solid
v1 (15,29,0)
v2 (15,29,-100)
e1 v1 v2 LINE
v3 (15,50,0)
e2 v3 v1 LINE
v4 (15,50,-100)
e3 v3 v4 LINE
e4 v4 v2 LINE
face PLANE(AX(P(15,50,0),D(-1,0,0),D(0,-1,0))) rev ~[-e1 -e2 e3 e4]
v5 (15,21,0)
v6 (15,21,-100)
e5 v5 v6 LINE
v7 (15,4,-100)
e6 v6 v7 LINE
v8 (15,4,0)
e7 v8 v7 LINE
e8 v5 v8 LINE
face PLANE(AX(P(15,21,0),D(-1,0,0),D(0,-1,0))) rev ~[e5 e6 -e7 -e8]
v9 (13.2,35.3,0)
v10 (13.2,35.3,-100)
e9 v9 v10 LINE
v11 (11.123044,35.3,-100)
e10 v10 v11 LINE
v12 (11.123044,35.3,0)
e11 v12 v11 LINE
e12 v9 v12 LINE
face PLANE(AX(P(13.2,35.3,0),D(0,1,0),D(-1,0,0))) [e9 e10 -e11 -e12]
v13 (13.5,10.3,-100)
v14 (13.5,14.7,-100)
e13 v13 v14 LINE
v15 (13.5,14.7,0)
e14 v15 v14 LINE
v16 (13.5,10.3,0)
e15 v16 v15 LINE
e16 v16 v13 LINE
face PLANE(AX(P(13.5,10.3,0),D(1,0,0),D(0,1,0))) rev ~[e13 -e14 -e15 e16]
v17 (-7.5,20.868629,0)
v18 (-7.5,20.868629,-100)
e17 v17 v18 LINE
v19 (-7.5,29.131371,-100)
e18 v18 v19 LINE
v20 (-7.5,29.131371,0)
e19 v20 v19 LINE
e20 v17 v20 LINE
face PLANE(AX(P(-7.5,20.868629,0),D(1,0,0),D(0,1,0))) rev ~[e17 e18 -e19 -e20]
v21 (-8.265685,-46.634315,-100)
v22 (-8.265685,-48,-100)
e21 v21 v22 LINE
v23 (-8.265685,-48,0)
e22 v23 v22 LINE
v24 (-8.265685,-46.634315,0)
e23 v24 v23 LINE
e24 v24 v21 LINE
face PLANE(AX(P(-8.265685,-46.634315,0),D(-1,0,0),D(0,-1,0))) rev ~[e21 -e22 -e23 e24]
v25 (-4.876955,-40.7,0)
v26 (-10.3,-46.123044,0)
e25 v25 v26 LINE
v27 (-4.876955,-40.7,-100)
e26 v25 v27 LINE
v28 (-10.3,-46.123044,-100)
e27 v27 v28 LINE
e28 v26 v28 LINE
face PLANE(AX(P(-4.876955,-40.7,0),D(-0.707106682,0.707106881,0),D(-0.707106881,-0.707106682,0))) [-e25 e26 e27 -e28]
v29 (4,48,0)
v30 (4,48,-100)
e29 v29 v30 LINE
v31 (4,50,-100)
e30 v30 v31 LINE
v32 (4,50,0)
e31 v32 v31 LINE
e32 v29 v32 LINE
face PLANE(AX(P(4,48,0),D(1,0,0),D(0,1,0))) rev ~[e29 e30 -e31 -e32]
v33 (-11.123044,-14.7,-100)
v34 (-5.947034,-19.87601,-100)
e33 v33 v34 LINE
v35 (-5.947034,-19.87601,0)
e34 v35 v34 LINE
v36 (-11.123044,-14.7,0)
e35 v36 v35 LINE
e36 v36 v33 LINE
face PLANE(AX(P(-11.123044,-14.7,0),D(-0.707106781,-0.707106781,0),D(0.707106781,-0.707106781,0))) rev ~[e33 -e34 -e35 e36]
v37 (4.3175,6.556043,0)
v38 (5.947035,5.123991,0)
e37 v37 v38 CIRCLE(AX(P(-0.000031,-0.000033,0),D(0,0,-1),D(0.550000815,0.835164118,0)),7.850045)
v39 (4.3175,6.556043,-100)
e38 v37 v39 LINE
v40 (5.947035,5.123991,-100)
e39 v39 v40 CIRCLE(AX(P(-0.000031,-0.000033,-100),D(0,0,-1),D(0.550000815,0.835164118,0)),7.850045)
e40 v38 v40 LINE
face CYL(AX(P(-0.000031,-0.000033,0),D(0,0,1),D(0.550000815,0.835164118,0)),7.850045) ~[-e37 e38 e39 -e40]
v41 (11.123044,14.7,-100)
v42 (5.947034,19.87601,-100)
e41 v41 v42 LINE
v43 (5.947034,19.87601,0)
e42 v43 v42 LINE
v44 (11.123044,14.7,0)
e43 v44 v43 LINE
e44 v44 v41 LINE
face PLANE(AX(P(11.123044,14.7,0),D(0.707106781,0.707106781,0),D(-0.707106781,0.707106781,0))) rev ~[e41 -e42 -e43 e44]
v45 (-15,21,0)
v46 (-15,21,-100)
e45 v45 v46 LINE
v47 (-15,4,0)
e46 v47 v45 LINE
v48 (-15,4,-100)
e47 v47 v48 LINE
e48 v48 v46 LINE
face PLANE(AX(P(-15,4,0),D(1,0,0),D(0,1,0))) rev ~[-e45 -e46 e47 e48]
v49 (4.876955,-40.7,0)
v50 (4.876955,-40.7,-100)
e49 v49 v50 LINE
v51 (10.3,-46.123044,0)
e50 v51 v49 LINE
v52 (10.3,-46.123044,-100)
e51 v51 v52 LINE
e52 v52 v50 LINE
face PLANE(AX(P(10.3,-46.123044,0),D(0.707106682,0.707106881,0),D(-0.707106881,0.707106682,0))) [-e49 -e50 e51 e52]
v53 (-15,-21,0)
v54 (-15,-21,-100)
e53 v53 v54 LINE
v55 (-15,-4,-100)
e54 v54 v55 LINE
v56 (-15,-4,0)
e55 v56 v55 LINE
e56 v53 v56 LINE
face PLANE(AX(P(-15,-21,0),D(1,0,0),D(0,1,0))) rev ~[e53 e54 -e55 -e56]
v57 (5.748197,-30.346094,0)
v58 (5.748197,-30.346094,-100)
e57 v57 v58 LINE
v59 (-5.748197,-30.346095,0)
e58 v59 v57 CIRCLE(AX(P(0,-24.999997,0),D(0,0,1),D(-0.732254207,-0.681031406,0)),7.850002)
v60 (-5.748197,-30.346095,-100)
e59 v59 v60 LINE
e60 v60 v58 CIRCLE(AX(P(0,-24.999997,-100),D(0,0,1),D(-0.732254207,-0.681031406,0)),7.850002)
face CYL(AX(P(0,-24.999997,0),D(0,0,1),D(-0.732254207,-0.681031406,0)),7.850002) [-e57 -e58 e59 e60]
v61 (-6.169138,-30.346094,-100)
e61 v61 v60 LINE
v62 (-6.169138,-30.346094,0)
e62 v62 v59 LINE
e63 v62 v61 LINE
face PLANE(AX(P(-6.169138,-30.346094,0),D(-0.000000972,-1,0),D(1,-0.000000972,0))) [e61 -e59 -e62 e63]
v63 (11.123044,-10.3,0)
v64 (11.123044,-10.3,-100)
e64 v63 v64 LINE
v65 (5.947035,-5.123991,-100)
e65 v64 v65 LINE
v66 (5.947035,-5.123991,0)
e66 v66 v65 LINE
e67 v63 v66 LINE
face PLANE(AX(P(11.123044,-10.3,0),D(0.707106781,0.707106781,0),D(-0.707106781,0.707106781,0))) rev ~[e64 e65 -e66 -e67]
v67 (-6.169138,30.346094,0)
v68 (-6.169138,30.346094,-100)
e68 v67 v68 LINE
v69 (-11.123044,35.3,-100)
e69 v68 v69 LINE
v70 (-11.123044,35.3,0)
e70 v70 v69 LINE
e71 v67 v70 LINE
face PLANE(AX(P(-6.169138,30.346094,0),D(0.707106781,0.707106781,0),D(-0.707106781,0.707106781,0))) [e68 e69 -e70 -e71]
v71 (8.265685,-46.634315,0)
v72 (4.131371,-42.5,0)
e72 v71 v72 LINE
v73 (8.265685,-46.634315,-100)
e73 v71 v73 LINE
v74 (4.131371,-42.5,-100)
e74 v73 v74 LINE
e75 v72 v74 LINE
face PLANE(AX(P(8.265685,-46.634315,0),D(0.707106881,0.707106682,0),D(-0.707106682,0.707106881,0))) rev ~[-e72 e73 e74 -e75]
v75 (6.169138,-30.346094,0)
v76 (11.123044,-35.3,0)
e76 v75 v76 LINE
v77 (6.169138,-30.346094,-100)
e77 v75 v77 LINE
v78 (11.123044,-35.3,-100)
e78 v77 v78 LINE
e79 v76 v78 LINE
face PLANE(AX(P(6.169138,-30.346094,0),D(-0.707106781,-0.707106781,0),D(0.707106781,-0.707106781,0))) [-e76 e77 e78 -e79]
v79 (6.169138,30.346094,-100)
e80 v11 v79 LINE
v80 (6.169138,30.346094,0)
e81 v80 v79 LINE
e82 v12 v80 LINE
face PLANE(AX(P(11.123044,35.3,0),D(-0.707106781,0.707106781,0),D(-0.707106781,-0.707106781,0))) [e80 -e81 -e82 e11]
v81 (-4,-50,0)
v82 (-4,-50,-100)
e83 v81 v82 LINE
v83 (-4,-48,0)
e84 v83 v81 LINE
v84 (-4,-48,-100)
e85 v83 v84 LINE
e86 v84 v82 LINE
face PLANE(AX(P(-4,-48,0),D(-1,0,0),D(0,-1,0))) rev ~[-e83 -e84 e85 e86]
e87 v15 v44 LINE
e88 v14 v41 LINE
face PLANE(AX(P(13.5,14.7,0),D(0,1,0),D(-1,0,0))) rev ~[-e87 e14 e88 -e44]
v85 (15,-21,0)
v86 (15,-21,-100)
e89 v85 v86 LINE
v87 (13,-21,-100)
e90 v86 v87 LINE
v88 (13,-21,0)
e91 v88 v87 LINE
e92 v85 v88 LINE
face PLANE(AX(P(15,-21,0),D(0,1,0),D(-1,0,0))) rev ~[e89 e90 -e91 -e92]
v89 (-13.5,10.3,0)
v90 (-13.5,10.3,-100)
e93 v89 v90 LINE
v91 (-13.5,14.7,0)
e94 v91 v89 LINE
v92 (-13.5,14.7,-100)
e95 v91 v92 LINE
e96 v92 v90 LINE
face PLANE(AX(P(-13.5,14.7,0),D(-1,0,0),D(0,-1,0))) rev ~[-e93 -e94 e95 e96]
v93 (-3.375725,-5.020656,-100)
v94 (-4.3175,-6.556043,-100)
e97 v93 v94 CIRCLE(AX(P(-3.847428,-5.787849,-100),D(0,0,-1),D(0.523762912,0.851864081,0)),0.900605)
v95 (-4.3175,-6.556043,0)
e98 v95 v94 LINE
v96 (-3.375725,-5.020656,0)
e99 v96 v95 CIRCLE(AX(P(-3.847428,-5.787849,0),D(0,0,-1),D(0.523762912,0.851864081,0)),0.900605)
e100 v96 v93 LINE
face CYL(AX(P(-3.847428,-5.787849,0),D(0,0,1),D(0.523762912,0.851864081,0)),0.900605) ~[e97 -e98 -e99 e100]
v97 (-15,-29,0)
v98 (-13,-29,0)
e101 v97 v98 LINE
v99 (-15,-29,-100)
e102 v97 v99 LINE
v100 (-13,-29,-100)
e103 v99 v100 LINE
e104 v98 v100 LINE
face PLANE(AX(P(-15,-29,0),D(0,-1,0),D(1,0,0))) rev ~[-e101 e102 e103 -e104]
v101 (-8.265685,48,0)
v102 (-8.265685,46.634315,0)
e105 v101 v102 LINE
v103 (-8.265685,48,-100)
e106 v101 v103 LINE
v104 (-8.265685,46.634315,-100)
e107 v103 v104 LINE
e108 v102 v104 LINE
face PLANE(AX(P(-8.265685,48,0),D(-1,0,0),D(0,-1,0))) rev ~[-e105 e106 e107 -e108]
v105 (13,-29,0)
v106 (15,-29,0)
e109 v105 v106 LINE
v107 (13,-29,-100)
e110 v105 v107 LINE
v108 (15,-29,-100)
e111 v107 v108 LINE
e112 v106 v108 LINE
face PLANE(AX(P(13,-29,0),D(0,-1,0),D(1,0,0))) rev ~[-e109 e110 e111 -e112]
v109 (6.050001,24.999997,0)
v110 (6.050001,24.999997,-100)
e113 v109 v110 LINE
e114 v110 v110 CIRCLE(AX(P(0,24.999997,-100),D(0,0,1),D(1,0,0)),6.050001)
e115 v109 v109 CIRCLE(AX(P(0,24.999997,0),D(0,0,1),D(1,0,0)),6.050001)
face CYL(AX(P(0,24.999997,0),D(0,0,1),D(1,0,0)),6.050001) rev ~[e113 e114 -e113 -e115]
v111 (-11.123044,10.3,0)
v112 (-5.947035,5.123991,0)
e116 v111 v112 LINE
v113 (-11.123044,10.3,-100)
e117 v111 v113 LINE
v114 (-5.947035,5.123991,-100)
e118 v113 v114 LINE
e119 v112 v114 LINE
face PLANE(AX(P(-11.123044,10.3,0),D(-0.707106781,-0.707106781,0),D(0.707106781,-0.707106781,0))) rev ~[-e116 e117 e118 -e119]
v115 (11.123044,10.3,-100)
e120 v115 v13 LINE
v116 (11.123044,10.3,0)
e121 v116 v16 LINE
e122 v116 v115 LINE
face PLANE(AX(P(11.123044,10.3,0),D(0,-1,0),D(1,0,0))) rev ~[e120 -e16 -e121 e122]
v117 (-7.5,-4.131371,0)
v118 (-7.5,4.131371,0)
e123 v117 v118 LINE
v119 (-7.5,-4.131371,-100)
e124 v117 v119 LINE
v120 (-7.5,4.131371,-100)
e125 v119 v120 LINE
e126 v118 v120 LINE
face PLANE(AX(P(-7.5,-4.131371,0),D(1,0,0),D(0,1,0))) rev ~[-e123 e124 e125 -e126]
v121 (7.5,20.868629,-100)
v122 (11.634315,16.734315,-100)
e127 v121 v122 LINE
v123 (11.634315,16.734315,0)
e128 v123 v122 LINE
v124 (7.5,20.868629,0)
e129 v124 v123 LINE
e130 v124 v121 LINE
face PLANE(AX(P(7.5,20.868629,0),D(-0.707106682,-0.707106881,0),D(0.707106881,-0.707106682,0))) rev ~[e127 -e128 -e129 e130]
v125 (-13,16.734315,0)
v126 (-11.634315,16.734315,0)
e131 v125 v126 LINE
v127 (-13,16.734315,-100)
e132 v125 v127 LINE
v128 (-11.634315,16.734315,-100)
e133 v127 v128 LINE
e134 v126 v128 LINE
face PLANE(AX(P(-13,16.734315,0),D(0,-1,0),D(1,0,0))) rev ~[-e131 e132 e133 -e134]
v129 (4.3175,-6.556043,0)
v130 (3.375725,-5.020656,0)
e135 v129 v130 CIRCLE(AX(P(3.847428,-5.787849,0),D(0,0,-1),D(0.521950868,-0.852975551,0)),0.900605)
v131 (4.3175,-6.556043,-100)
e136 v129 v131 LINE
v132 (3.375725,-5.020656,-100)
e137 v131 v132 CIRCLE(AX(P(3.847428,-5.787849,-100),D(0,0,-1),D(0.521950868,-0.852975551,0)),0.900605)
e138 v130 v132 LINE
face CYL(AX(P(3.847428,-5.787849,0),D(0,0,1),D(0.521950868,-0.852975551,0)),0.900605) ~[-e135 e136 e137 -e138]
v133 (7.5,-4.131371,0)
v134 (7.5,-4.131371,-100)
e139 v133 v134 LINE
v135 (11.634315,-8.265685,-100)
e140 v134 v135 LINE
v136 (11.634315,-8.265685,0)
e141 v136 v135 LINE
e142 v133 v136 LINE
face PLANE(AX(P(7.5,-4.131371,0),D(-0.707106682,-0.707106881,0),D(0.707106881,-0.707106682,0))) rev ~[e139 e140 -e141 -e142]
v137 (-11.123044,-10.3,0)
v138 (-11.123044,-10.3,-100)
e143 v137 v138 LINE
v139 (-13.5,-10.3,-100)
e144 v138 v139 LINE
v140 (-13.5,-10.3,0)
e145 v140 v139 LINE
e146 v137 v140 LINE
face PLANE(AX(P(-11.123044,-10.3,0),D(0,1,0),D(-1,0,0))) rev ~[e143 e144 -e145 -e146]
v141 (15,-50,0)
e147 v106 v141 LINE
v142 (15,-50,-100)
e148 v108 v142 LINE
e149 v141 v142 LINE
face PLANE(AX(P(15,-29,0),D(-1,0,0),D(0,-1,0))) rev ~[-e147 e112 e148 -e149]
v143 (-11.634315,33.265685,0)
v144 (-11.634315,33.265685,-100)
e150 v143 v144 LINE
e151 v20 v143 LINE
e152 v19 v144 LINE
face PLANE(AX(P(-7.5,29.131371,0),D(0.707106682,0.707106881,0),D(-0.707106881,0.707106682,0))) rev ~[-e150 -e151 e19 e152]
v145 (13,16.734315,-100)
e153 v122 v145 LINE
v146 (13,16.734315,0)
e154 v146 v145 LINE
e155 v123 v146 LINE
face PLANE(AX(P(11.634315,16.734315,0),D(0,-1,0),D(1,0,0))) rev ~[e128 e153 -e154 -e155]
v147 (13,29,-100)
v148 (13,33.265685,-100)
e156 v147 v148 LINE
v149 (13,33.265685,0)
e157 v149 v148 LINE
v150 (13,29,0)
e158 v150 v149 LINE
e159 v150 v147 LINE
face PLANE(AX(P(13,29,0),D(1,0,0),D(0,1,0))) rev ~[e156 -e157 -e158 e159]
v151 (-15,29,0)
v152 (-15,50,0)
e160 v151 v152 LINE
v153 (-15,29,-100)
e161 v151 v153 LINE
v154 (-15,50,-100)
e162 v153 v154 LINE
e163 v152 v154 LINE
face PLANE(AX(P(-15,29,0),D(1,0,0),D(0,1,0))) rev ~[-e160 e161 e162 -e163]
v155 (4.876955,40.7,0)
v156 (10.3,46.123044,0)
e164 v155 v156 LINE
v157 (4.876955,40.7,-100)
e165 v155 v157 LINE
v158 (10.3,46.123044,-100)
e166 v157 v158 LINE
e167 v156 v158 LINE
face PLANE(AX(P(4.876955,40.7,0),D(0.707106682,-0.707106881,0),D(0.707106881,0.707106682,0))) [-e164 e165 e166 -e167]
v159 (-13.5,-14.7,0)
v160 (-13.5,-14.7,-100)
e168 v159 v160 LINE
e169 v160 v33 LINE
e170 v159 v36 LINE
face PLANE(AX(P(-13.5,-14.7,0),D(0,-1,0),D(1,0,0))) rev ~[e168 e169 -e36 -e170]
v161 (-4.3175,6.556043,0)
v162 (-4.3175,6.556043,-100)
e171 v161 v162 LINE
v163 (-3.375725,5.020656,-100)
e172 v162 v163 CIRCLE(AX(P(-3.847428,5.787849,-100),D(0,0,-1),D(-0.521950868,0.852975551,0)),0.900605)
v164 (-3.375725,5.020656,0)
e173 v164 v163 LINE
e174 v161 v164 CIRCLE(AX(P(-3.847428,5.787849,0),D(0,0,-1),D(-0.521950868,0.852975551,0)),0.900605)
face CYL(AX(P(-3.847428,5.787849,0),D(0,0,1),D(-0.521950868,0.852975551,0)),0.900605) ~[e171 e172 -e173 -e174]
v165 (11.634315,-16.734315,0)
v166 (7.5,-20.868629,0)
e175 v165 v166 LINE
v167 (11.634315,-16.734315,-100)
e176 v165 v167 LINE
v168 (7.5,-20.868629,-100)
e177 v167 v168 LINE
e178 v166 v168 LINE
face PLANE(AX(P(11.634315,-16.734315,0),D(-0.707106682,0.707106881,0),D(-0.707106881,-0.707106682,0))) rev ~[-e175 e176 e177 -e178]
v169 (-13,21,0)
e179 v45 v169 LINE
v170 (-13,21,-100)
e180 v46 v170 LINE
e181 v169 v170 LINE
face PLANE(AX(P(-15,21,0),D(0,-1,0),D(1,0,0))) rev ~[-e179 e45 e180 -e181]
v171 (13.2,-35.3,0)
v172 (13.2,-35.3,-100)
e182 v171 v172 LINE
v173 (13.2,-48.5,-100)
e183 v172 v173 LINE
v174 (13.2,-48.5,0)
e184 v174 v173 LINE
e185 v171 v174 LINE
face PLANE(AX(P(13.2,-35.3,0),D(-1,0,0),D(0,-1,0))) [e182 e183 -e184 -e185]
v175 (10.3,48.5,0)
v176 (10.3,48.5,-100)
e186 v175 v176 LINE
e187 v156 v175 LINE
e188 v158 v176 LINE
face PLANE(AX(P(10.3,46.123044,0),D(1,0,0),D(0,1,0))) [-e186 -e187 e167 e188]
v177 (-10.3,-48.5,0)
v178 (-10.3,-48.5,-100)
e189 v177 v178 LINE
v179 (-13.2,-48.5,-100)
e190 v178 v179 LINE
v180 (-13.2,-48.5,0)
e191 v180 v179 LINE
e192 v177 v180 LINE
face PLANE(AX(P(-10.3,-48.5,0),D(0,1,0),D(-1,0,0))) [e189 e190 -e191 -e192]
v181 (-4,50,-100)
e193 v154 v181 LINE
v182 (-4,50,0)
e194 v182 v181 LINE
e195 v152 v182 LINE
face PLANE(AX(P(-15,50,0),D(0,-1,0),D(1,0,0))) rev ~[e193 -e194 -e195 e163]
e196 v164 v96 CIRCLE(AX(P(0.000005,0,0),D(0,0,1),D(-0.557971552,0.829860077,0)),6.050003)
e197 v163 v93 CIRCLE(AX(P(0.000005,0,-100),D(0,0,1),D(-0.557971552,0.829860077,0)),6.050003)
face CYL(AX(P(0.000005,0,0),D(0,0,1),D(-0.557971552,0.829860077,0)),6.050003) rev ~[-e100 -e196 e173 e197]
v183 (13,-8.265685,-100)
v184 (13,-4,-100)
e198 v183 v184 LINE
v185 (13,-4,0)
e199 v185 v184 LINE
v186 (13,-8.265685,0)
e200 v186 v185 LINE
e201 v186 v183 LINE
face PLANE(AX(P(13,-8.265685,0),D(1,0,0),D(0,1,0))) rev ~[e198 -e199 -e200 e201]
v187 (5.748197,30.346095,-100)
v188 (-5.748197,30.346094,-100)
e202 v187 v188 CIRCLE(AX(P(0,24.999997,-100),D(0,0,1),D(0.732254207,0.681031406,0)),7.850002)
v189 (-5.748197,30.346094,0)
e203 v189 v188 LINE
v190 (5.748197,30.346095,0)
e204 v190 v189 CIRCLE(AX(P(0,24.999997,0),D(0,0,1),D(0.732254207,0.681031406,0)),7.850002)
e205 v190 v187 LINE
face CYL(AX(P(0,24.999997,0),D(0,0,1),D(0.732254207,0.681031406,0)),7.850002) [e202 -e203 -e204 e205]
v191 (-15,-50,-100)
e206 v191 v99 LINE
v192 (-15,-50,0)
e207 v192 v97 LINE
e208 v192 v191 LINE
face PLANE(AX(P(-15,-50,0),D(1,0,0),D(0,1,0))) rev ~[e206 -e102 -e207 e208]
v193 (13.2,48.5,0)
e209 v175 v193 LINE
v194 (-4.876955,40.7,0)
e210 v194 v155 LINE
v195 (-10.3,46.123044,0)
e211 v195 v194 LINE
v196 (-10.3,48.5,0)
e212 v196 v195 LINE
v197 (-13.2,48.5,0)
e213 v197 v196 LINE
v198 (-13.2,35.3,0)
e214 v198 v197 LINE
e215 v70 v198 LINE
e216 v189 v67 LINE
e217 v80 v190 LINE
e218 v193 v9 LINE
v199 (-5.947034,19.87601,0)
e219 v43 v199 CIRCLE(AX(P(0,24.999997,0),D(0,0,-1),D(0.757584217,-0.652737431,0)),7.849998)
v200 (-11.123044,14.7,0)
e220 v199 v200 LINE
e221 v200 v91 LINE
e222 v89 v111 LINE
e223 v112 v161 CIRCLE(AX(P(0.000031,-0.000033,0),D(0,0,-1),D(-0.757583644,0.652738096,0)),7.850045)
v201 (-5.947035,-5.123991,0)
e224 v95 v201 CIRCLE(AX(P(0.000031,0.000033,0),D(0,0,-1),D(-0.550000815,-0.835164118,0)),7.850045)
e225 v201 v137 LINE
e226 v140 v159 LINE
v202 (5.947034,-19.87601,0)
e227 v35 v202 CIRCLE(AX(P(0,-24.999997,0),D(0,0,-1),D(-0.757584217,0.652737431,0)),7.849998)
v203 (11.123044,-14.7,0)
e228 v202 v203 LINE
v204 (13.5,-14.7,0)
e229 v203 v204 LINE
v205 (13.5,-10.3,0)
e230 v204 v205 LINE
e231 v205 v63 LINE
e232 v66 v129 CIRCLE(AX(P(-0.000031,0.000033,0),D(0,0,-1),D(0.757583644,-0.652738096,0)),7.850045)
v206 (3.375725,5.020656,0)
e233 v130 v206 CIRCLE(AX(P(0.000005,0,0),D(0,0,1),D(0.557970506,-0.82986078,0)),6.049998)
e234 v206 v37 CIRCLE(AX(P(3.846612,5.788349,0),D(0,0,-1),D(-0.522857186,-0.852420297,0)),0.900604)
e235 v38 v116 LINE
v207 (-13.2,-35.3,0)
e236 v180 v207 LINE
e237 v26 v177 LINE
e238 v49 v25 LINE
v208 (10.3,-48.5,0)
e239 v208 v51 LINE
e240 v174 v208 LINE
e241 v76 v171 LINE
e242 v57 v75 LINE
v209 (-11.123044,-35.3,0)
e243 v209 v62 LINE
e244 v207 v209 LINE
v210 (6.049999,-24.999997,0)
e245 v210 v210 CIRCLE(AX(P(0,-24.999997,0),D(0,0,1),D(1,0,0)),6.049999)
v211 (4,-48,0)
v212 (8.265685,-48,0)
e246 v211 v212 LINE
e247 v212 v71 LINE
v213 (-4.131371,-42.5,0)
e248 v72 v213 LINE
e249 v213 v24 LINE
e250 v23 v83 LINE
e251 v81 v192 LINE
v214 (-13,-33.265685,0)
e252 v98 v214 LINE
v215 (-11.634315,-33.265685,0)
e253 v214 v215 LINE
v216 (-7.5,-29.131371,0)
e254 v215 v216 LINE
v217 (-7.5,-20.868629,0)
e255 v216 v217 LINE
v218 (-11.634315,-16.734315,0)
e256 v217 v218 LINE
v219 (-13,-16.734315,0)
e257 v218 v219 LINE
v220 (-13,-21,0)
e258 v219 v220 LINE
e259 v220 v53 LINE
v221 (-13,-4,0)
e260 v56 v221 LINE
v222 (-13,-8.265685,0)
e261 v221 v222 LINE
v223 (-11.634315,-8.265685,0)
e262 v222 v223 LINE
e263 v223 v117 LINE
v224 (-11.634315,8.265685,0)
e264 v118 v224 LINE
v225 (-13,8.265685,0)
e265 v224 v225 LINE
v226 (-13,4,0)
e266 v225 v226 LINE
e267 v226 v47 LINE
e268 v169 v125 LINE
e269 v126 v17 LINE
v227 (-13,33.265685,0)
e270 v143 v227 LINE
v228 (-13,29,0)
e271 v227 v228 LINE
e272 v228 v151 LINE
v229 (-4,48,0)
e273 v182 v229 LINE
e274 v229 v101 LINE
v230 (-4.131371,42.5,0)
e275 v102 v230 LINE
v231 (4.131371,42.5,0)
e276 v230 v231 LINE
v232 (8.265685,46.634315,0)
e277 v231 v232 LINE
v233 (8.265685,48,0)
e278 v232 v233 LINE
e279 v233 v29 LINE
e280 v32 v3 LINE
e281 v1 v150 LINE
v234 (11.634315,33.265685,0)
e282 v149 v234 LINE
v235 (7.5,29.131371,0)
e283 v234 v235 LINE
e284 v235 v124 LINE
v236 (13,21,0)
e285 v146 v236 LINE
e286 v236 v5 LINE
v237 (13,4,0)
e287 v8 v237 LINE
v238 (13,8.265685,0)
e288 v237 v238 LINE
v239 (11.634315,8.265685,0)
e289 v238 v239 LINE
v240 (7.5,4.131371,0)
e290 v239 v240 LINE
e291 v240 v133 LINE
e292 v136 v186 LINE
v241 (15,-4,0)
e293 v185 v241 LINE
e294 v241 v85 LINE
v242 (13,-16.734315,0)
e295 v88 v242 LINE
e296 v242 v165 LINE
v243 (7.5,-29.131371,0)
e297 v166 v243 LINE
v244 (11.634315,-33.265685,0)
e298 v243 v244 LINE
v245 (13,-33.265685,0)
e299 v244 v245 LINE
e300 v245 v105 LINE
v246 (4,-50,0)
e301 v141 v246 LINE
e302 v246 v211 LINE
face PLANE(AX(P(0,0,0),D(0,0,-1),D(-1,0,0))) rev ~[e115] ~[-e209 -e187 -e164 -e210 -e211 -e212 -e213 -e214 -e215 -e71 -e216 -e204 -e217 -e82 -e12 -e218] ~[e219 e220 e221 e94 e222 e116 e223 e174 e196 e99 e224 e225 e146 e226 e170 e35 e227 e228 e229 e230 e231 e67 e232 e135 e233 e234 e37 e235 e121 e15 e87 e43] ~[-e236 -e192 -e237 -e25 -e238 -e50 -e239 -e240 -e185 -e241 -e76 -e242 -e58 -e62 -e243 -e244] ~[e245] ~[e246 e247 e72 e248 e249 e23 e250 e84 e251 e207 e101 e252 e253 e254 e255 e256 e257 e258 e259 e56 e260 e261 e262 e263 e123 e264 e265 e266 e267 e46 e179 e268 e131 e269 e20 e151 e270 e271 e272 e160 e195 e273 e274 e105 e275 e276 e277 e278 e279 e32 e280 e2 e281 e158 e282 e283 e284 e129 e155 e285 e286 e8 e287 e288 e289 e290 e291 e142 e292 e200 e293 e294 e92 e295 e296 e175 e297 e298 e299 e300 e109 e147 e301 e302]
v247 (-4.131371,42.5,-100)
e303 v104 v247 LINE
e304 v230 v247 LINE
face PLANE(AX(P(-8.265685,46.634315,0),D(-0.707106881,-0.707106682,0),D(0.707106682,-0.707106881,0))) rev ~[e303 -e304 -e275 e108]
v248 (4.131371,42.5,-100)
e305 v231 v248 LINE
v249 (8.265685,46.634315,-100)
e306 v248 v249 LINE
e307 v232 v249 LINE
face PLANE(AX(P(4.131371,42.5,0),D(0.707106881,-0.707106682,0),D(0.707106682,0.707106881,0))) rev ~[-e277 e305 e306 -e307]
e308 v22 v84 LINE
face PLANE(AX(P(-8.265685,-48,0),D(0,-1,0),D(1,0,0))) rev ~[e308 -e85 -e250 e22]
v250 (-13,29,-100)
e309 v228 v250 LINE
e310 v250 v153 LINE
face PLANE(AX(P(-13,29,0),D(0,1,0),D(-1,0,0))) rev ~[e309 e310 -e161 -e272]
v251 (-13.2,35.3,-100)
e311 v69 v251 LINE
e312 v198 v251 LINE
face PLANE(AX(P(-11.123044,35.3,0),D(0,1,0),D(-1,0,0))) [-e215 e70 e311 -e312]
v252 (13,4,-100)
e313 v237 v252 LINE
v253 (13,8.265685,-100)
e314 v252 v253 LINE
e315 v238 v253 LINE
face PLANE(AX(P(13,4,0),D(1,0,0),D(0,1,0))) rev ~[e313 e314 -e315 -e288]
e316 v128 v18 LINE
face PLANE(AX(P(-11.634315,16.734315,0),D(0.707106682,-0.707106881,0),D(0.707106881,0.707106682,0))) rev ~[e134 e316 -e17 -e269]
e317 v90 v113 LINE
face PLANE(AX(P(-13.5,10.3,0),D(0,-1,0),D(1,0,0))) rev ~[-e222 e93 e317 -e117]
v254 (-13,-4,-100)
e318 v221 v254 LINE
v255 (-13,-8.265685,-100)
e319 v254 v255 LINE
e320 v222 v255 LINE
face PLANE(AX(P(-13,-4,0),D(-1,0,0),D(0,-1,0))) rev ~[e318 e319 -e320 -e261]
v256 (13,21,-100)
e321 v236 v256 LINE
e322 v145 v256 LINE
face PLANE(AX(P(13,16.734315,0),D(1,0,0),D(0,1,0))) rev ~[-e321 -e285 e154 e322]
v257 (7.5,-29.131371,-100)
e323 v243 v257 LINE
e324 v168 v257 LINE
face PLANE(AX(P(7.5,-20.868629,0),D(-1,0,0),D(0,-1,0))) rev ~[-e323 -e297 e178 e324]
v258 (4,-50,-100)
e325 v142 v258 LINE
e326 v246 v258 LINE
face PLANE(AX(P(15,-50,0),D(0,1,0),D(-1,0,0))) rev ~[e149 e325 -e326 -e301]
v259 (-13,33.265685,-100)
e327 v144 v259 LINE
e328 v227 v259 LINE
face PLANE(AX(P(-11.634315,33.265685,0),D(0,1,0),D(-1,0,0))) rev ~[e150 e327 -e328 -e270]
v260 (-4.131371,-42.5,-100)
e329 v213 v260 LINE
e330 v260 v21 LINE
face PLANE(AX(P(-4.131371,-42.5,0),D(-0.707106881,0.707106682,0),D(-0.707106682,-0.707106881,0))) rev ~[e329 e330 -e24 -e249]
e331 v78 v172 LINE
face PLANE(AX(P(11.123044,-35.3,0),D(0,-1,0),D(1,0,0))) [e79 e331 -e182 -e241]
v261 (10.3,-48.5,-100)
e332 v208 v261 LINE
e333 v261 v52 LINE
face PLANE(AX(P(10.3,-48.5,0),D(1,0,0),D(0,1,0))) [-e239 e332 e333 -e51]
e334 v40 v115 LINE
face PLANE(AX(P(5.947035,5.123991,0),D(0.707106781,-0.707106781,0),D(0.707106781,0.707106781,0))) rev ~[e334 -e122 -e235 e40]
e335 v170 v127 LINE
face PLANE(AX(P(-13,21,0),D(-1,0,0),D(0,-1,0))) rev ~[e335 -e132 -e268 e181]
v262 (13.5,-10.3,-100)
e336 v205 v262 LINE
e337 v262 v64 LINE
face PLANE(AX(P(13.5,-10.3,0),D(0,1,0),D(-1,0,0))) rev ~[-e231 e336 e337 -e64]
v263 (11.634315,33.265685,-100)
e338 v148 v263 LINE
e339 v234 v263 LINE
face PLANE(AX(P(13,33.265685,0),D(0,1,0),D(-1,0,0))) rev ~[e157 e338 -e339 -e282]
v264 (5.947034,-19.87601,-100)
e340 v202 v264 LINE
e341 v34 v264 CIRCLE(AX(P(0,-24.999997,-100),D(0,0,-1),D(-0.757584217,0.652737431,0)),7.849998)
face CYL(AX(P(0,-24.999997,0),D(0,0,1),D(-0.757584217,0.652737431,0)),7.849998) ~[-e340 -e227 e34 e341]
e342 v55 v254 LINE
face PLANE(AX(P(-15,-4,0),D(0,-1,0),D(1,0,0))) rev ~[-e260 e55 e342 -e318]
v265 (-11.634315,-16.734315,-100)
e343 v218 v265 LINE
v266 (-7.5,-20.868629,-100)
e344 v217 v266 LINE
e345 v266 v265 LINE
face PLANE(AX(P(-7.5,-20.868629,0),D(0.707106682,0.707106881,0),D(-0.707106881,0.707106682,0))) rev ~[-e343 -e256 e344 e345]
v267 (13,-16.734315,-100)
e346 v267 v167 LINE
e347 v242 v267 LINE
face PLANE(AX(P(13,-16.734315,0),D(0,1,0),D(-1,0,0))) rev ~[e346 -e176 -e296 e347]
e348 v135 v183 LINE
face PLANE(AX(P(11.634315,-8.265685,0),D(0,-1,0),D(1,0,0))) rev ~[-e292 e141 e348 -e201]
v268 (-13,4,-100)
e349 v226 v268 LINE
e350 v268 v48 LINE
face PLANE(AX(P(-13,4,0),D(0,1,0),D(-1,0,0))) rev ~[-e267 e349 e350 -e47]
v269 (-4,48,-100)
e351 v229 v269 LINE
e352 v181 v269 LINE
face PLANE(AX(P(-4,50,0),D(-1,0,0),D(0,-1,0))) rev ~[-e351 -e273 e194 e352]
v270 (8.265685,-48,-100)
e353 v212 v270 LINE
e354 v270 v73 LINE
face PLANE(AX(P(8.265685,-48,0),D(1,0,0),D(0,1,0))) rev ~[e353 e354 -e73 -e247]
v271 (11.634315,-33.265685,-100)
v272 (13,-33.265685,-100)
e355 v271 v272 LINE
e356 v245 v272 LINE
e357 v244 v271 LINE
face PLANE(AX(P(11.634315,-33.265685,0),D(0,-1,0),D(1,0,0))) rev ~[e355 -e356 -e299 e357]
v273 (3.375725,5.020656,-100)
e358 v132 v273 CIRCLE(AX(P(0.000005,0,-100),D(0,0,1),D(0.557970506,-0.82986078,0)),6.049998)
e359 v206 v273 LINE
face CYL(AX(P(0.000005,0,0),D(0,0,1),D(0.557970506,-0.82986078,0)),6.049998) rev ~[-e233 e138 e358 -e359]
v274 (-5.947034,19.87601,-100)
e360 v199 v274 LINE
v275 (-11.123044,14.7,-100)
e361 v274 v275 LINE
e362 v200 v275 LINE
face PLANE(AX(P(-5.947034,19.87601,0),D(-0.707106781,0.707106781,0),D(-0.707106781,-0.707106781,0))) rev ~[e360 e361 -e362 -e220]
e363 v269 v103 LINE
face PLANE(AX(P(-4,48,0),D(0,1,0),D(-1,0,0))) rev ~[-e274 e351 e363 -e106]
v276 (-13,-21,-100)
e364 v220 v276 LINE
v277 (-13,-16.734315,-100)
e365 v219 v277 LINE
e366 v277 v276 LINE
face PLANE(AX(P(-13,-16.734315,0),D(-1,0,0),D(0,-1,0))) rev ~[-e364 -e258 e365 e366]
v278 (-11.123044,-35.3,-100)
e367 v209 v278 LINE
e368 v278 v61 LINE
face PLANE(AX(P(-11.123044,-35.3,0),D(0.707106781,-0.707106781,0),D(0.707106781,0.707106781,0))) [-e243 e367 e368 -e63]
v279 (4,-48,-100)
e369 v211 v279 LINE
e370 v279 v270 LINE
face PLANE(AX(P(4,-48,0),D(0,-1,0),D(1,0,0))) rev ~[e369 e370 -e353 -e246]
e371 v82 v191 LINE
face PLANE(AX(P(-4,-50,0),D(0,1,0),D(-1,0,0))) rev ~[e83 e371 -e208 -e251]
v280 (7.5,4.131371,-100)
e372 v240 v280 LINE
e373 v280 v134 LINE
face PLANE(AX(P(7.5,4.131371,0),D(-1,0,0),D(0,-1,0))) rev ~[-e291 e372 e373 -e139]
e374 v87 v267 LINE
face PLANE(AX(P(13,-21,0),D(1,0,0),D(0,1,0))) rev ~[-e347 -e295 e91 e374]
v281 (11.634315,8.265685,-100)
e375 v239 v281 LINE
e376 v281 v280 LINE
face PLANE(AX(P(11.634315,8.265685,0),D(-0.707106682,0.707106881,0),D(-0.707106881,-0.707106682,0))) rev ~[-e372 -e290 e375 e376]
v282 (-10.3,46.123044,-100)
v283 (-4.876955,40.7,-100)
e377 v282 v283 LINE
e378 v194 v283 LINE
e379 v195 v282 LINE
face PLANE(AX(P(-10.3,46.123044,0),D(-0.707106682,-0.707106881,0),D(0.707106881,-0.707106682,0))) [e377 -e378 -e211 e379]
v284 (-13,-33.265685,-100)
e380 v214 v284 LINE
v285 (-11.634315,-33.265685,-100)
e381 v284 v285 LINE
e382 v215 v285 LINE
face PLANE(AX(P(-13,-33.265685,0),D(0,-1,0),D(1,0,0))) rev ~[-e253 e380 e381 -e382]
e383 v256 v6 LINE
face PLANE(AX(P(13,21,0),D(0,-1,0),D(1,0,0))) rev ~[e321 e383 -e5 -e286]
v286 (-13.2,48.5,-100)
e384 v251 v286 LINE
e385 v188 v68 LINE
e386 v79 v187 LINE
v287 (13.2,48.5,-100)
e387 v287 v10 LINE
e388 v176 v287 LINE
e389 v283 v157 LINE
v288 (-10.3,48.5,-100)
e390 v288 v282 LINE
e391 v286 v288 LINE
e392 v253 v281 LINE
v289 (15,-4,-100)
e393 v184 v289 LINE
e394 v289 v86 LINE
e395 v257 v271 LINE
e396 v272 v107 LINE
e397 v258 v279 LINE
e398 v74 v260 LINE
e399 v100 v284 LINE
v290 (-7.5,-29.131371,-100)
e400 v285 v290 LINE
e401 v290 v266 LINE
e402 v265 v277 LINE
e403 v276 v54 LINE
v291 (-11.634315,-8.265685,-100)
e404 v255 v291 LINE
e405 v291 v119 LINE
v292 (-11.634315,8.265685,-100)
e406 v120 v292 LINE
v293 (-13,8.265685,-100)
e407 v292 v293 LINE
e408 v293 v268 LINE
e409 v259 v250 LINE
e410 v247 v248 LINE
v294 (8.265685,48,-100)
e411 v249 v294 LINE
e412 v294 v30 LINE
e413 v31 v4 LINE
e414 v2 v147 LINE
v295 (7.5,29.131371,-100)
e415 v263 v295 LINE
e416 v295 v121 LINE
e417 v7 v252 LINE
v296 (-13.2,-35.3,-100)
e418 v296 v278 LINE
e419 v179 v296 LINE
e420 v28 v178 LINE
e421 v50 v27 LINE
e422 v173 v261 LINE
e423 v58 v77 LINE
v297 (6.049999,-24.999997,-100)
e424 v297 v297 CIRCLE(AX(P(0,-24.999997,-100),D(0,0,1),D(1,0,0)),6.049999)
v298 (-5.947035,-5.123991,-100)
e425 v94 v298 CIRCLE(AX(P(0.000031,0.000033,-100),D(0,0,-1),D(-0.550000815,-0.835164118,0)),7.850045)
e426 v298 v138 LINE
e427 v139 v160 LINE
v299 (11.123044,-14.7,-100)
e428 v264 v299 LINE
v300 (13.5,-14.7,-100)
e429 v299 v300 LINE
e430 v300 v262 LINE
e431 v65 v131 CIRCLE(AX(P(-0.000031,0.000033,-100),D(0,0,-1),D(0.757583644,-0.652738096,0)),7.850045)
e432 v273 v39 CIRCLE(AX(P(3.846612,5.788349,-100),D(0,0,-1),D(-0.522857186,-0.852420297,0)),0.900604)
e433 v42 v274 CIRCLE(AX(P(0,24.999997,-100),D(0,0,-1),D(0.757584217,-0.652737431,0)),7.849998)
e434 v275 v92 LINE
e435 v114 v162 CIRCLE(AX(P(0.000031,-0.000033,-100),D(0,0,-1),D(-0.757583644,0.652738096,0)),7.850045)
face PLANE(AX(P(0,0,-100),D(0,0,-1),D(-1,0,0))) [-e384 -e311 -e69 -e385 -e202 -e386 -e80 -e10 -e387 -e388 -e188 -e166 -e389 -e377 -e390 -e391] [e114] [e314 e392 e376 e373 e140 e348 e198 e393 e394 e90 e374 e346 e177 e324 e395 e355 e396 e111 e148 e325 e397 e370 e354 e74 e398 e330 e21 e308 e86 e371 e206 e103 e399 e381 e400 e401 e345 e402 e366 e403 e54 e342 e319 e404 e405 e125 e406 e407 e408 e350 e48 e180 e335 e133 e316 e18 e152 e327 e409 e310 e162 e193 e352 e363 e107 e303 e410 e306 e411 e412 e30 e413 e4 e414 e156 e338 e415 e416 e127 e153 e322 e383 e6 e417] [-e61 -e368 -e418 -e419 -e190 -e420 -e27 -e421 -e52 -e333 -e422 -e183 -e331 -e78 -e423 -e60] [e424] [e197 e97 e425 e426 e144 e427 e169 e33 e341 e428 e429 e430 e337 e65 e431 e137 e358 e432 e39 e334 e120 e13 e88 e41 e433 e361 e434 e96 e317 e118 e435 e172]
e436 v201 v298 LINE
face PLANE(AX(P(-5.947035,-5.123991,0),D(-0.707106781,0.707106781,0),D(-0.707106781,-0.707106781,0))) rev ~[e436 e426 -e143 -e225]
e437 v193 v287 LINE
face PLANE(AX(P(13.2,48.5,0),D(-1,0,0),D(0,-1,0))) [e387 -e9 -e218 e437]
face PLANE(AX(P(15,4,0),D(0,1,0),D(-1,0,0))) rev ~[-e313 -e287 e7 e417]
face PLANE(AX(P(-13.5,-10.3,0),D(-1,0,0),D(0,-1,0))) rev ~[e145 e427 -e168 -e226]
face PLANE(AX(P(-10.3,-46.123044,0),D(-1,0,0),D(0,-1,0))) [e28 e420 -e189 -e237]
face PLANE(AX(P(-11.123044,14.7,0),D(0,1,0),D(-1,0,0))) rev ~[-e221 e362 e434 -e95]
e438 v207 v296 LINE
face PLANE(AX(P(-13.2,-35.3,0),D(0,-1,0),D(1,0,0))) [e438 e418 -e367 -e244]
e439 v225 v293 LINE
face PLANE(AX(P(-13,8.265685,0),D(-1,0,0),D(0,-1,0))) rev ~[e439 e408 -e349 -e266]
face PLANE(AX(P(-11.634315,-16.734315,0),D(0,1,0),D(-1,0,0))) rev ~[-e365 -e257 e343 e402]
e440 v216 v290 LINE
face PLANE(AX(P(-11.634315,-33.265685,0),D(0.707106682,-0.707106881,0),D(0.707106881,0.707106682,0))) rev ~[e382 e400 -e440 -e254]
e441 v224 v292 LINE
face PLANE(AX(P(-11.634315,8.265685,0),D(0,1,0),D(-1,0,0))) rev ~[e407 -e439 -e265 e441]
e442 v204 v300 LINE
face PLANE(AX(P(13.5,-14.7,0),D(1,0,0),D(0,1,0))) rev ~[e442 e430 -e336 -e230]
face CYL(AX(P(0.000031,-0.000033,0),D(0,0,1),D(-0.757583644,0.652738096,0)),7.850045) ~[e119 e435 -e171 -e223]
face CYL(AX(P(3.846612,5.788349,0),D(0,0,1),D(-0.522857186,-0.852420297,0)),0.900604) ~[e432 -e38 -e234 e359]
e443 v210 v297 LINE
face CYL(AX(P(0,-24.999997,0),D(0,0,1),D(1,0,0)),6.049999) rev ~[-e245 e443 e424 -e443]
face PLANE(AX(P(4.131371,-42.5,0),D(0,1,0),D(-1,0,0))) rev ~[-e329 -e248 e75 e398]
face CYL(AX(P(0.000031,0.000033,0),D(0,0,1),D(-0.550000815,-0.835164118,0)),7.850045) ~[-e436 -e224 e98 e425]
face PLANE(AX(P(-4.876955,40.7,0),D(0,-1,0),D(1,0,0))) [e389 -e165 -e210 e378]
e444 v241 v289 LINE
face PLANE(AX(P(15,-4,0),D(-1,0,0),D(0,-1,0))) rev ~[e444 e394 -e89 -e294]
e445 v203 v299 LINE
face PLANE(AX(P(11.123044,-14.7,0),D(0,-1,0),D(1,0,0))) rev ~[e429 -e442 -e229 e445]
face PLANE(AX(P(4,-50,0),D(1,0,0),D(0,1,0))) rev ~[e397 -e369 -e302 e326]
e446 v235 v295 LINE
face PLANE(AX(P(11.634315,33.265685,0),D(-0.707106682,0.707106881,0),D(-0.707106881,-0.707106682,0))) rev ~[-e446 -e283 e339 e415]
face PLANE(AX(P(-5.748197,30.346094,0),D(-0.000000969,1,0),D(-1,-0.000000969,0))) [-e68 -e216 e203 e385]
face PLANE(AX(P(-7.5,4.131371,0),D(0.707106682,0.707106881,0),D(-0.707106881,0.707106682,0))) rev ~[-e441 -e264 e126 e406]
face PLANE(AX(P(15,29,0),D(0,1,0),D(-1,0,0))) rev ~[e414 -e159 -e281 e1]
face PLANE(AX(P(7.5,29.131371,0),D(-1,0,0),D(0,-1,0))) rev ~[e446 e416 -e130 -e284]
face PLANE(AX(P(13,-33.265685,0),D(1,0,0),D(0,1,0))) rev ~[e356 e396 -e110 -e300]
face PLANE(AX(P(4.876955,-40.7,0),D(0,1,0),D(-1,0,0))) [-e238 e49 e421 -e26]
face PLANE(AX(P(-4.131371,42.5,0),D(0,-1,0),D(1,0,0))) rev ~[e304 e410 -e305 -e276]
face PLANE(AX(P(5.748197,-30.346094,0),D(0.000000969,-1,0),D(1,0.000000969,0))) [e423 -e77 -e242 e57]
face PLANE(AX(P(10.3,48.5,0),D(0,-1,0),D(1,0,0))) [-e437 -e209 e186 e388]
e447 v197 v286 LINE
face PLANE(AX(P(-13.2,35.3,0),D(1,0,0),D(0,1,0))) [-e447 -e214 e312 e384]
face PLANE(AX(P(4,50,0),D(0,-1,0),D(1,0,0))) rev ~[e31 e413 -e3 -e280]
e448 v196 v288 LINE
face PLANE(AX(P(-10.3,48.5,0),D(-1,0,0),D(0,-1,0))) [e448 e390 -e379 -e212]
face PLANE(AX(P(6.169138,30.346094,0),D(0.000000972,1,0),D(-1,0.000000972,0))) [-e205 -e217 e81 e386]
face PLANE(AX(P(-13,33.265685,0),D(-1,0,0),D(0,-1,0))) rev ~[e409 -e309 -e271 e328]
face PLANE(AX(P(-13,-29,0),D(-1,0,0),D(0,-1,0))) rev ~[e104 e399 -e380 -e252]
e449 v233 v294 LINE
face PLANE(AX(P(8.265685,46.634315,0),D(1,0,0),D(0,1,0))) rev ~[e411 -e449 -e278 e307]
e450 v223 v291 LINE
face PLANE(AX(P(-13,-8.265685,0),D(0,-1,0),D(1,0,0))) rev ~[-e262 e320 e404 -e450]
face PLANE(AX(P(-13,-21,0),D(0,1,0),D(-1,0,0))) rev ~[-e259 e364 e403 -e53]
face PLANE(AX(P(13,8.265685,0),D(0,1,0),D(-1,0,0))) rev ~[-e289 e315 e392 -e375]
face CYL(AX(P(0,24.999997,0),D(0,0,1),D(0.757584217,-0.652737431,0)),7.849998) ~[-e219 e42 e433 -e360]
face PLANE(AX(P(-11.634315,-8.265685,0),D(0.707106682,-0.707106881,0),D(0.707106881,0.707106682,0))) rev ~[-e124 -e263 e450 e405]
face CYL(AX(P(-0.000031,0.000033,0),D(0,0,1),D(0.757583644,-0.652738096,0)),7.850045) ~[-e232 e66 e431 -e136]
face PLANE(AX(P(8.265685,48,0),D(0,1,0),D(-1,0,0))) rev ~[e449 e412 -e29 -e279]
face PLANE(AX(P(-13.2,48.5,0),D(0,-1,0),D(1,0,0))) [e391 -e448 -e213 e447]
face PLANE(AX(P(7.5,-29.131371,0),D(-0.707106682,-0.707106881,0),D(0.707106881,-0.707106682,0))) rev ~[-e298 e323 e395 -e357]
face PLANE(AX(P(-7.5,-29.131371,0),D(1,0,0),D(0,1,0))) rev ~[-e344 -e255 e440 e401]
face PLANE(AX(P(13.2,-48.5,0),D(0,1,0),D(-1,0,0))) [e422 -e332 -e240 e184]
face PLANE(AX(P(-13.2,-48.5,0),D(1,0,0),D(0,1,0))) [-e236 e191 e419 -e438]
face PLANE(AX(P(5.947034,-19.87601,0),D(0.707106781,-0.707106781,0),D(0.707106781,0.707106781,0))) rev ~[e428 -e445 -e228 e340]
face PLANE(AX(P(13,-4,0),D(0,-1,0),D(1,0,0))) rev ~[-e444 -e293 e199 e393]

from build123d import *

# Parameters (mm, degrees)
MB1_2_R        = 6.049999109
MB1_2_R_2      = 6.050000891
EXTRUDE1_DEPTH = 100


with BuildPart() as part:
    # MB1-2 → Extrude1 (new body)
    with BuildSketch(Plane.XY):
        Polygon((-13, -33.265685), (-11.634315, -33.265685), (-7.5, -29.131371165), (-7.5, -20.868628835), (-11.634315, -16.734315), (-13, -16.734315), (-13, -21), (-15, -21), (-15, -4), (-13, -4), (-13, -8.265685), (-11.634315, -8.265685), (-7.5, -4.131371165), (-7.5, 4.131371165), (-11.634315, 8.265685), (-13, 8.265685), (-13, 4), (-15, 4), (-15, 21), (-13, 21), (-13, 16.734315), (-11.634315, 16.734315), (-7.5, 20.868628835), (-7.5, 29.131371165), (-11.634315, 33.265685), (-13, 33.265685), (-13, 29), (-15, 29), (-15, 50), (-4, 50), (-4, 48), (-8.265685, 48), (-8.265685, 46.634315), (-4.131371165, 42.5), (4.131371165, 42.5), (8.265685, 46.634315), (8.265685, 48), (4, 48), (4, 50), (15, 50), (15, 29), (13, 29), (13, 33.265685), (11.634315, 33.265685), (7.5, 29.131371165), (7.5, 20.868628835), (11.634315, 16.734315), (13, 16.734315), (13, 21), (15, 21), (15, 4), (13, 4), (13, 8.265685), (11.634315, 8.265685), (7.5, 4.131371165), (7.5, -4.131371165), (11.634315, -8.265685), (13, -8.265685), (13, -4), (15, -4), (15, -21), (13, -21), (13, -16.734315), (11.634315, -16.734315), (7.5, -20.868628835), (7.5, -29.131371165), (11.634315, -33.265685), (13, -33.265685), (13, -29), (15, -29), (15, -50), (4, -50), (4, -48), (8.265685, -48), (8.265685, -46.634315), (4.131371165, -42.5), (-4.131371165, -42.5), (-8.265685, -46.634315), (-8.265685, -48), (-4, -48), (-4, -50), (-15, -50), (-15, -29), (-13, -29), align=None)
        with Locations((0, -24.999996952)):
            Circle(MB1_2_R, mode=Mode.SUBTRACT)
        with Locations((0, 24.999996952)):
            Circle(MB1_2_R_2, mode=Mode.SUBTRACT)
        with BuildLine():
            Line((5.74819726, -30.346094347), (6.169137939, -30.346093939))
            Line((6.169137939, -30.346093939), (11.123044, -35.3))
            Line((11.123044, -35.3), (13.2, -35.3))
            Line((13.2, -35.3), (13.2, -48.5))
            Line((13.2, -48.5), (10.3, -48.5))
            Line((10.3, -48.5), (10.3, -46.123043785))
            Line((10.3, -46.123043785), (4.876954686, -40.7))
            Line((4.876954686, -40.7), (-4.876954686, -40.7))
            Line((-4.876954686, -40.7), (-10.3, -46.123043785))
            Line((-10.3, -46.123043785), (-10.3, -48.5))
            Line((-10.3, -48.5), (-13.2, -48.5))
            Line((-13.2, -48.5), (-13.2, -35.3))
            Line((-13.2, -35.3), (-11.123044, -35.3))
            Line((-11.123044, -35.3), (-6.169138347, -30.346094347))
            Line((-6.169138347, -30.346094347), (-5.74819688, -30.346094756))
            ThreePointArc((-5.74819688, -30.346094756), (2.79e-07, -32.849998806), (5.74819726, -30.346094347))
        make_face(mode=Mode.SUBTRACT)
        with BuildLine():
            Line((6.169138347, 30.346094347), (5.74819688, 30.346094756))
            ThreePointArc((5.74819688, 30.346094756), (-2.79e-07, 32.849998806), (-5.74819726, 30.346094347))
            Line((-5.74819726, 30.346094347), (-6.169137939, 30.346093939))
            Line((-6.169137939, 30.346093939), (-11.123044, 35.3))
            Line((-11.123044, 35.3), (-13.2, 35.3))
            Line((-13.2, 35.3), (-13.2, 48.5))
            Line((-13.2, 48.5), (-10.3, 48.5))
            Line((-10.3, 48.5), (-10.3, 46.123043785))
            Line((-10.3, 46.123043785), (-4.876954686, 40.7))
            Line((-4.876954686, 40.7), (4.876954686, 40.7))
            Line((4.876954686, 40.7), (10.3, 46.123043785))
            Line((10.3, 46.123043785), (10.3, 48.5))
            Line((10.3, 48.5), (13.2, 48.5))
            Line((13.2, 48.5), (13.2, 35.3))
            Line((13.2, 35.3), (11.123044, 35.3))
            Line((11.123044, 35.3), (6.169138347, 30.346094347))
        make_face(mode=Mode.SUBTRACT)
        with BuildLine():
            Line((-11.123044, -14.7), (-5.947034494, -19.876009506))
            ThreePointArc((-5.947034494, -19.876009506), (0, -17.149999078), (5.947034494, -19.876009506))
            Line((5.947034494, -19.876009506), (11.123044, -14.7))
            Line((11.123044, -14.7), (13.5, -14.7))
            Line((13.5, -14.7), (13.5, -10.3))
            Line((13.5, -10.3), (11.123044, -10.3))
            Line((11.123044, -10.3), (5.947034535, -5.123990535))
            ThreePointArc((5.947034535, -5.123990535), (5.181974313, -5.896578485), (4.3175, -6.556043))
            ThreePointArc((4.3175, -6.556043), (3.079734534, -6.258736768), (3.375725, -5.020656))
            ThreePointArc((3.375725, -5.020656), (6.050002522, 0), (3.375725, 5.020656))
            ThreePointArc((3.375725, 5.020656), (3.078919, 6.259237), (4.3175, 6.556043))
            ThreePointArc((4.3175, 6.556043), (5.181974313, 5.896578485), (5.947034535, 5.123990535))
            Line((5.947034535, 5.123990535), (11.123044, 10.3))
            Line((11.123044, 10.3), (13.5, 10.3))
            Line((13.5, 10.3), (13.5, 14.7))
            Line((13.5, 14.7), (11.123044, 14.7))
            Line((11.123044, 14.7), (5.947034494, 19.876009506))
            ThreePointArc((5.947034494, 19.876009506), (0, 17.149999078), (-5.947034494, 19.876009506))
            Line((-5.947034494, 19.876009506), (-11.123044, 14.7))
            Line((-11.123044, 14.7), (-13.5, 14.7))
            Line((-13.5, 14.7), (-13.5, 10.3))
            Line((-13.5, 10.3), (-11.123044, 10.3))
            Line((-11.123044, 10.3), (-5.947034535, 5.123990535))
            ThreePointArc((-5.947034535, 5.123990535), (-5.181974313, 5.896578485), (-4.3175, 6.556043))
            ThreePointArc((-4.3175, 6.556043), (-3.079734534, 6.258736768), (-3.375725, 5.020656))
            ThreePointArc((-3.375725, 5.020656), (-6.049998461, 0), (-3.375725, -5.020656))
            ThreePointArc((-3.375725, -5.020656), (-3.079734534, -6.258736768), (-4.3175, -6.556043))
            ThreePointArc((-4.3175, -6.556043), (-5.181974313, -5.896578485), (-5.947034535, -5.123990535))
            Line((-5.947034535, -5.123990535), (-11.123044, -10.3))
            Line((-11.123044, -10.3), (-13.5, -10.3))
            Line((-13.5, -10.3), (-13.5, -14.7))
            Line((-13.5, -14.7), (-11.123044, -14.7))
        make_face(mode=Mode.SUBTRACT)
    extrude(amount=-EXTRUDE1_DEPTH)


solid = part.part
